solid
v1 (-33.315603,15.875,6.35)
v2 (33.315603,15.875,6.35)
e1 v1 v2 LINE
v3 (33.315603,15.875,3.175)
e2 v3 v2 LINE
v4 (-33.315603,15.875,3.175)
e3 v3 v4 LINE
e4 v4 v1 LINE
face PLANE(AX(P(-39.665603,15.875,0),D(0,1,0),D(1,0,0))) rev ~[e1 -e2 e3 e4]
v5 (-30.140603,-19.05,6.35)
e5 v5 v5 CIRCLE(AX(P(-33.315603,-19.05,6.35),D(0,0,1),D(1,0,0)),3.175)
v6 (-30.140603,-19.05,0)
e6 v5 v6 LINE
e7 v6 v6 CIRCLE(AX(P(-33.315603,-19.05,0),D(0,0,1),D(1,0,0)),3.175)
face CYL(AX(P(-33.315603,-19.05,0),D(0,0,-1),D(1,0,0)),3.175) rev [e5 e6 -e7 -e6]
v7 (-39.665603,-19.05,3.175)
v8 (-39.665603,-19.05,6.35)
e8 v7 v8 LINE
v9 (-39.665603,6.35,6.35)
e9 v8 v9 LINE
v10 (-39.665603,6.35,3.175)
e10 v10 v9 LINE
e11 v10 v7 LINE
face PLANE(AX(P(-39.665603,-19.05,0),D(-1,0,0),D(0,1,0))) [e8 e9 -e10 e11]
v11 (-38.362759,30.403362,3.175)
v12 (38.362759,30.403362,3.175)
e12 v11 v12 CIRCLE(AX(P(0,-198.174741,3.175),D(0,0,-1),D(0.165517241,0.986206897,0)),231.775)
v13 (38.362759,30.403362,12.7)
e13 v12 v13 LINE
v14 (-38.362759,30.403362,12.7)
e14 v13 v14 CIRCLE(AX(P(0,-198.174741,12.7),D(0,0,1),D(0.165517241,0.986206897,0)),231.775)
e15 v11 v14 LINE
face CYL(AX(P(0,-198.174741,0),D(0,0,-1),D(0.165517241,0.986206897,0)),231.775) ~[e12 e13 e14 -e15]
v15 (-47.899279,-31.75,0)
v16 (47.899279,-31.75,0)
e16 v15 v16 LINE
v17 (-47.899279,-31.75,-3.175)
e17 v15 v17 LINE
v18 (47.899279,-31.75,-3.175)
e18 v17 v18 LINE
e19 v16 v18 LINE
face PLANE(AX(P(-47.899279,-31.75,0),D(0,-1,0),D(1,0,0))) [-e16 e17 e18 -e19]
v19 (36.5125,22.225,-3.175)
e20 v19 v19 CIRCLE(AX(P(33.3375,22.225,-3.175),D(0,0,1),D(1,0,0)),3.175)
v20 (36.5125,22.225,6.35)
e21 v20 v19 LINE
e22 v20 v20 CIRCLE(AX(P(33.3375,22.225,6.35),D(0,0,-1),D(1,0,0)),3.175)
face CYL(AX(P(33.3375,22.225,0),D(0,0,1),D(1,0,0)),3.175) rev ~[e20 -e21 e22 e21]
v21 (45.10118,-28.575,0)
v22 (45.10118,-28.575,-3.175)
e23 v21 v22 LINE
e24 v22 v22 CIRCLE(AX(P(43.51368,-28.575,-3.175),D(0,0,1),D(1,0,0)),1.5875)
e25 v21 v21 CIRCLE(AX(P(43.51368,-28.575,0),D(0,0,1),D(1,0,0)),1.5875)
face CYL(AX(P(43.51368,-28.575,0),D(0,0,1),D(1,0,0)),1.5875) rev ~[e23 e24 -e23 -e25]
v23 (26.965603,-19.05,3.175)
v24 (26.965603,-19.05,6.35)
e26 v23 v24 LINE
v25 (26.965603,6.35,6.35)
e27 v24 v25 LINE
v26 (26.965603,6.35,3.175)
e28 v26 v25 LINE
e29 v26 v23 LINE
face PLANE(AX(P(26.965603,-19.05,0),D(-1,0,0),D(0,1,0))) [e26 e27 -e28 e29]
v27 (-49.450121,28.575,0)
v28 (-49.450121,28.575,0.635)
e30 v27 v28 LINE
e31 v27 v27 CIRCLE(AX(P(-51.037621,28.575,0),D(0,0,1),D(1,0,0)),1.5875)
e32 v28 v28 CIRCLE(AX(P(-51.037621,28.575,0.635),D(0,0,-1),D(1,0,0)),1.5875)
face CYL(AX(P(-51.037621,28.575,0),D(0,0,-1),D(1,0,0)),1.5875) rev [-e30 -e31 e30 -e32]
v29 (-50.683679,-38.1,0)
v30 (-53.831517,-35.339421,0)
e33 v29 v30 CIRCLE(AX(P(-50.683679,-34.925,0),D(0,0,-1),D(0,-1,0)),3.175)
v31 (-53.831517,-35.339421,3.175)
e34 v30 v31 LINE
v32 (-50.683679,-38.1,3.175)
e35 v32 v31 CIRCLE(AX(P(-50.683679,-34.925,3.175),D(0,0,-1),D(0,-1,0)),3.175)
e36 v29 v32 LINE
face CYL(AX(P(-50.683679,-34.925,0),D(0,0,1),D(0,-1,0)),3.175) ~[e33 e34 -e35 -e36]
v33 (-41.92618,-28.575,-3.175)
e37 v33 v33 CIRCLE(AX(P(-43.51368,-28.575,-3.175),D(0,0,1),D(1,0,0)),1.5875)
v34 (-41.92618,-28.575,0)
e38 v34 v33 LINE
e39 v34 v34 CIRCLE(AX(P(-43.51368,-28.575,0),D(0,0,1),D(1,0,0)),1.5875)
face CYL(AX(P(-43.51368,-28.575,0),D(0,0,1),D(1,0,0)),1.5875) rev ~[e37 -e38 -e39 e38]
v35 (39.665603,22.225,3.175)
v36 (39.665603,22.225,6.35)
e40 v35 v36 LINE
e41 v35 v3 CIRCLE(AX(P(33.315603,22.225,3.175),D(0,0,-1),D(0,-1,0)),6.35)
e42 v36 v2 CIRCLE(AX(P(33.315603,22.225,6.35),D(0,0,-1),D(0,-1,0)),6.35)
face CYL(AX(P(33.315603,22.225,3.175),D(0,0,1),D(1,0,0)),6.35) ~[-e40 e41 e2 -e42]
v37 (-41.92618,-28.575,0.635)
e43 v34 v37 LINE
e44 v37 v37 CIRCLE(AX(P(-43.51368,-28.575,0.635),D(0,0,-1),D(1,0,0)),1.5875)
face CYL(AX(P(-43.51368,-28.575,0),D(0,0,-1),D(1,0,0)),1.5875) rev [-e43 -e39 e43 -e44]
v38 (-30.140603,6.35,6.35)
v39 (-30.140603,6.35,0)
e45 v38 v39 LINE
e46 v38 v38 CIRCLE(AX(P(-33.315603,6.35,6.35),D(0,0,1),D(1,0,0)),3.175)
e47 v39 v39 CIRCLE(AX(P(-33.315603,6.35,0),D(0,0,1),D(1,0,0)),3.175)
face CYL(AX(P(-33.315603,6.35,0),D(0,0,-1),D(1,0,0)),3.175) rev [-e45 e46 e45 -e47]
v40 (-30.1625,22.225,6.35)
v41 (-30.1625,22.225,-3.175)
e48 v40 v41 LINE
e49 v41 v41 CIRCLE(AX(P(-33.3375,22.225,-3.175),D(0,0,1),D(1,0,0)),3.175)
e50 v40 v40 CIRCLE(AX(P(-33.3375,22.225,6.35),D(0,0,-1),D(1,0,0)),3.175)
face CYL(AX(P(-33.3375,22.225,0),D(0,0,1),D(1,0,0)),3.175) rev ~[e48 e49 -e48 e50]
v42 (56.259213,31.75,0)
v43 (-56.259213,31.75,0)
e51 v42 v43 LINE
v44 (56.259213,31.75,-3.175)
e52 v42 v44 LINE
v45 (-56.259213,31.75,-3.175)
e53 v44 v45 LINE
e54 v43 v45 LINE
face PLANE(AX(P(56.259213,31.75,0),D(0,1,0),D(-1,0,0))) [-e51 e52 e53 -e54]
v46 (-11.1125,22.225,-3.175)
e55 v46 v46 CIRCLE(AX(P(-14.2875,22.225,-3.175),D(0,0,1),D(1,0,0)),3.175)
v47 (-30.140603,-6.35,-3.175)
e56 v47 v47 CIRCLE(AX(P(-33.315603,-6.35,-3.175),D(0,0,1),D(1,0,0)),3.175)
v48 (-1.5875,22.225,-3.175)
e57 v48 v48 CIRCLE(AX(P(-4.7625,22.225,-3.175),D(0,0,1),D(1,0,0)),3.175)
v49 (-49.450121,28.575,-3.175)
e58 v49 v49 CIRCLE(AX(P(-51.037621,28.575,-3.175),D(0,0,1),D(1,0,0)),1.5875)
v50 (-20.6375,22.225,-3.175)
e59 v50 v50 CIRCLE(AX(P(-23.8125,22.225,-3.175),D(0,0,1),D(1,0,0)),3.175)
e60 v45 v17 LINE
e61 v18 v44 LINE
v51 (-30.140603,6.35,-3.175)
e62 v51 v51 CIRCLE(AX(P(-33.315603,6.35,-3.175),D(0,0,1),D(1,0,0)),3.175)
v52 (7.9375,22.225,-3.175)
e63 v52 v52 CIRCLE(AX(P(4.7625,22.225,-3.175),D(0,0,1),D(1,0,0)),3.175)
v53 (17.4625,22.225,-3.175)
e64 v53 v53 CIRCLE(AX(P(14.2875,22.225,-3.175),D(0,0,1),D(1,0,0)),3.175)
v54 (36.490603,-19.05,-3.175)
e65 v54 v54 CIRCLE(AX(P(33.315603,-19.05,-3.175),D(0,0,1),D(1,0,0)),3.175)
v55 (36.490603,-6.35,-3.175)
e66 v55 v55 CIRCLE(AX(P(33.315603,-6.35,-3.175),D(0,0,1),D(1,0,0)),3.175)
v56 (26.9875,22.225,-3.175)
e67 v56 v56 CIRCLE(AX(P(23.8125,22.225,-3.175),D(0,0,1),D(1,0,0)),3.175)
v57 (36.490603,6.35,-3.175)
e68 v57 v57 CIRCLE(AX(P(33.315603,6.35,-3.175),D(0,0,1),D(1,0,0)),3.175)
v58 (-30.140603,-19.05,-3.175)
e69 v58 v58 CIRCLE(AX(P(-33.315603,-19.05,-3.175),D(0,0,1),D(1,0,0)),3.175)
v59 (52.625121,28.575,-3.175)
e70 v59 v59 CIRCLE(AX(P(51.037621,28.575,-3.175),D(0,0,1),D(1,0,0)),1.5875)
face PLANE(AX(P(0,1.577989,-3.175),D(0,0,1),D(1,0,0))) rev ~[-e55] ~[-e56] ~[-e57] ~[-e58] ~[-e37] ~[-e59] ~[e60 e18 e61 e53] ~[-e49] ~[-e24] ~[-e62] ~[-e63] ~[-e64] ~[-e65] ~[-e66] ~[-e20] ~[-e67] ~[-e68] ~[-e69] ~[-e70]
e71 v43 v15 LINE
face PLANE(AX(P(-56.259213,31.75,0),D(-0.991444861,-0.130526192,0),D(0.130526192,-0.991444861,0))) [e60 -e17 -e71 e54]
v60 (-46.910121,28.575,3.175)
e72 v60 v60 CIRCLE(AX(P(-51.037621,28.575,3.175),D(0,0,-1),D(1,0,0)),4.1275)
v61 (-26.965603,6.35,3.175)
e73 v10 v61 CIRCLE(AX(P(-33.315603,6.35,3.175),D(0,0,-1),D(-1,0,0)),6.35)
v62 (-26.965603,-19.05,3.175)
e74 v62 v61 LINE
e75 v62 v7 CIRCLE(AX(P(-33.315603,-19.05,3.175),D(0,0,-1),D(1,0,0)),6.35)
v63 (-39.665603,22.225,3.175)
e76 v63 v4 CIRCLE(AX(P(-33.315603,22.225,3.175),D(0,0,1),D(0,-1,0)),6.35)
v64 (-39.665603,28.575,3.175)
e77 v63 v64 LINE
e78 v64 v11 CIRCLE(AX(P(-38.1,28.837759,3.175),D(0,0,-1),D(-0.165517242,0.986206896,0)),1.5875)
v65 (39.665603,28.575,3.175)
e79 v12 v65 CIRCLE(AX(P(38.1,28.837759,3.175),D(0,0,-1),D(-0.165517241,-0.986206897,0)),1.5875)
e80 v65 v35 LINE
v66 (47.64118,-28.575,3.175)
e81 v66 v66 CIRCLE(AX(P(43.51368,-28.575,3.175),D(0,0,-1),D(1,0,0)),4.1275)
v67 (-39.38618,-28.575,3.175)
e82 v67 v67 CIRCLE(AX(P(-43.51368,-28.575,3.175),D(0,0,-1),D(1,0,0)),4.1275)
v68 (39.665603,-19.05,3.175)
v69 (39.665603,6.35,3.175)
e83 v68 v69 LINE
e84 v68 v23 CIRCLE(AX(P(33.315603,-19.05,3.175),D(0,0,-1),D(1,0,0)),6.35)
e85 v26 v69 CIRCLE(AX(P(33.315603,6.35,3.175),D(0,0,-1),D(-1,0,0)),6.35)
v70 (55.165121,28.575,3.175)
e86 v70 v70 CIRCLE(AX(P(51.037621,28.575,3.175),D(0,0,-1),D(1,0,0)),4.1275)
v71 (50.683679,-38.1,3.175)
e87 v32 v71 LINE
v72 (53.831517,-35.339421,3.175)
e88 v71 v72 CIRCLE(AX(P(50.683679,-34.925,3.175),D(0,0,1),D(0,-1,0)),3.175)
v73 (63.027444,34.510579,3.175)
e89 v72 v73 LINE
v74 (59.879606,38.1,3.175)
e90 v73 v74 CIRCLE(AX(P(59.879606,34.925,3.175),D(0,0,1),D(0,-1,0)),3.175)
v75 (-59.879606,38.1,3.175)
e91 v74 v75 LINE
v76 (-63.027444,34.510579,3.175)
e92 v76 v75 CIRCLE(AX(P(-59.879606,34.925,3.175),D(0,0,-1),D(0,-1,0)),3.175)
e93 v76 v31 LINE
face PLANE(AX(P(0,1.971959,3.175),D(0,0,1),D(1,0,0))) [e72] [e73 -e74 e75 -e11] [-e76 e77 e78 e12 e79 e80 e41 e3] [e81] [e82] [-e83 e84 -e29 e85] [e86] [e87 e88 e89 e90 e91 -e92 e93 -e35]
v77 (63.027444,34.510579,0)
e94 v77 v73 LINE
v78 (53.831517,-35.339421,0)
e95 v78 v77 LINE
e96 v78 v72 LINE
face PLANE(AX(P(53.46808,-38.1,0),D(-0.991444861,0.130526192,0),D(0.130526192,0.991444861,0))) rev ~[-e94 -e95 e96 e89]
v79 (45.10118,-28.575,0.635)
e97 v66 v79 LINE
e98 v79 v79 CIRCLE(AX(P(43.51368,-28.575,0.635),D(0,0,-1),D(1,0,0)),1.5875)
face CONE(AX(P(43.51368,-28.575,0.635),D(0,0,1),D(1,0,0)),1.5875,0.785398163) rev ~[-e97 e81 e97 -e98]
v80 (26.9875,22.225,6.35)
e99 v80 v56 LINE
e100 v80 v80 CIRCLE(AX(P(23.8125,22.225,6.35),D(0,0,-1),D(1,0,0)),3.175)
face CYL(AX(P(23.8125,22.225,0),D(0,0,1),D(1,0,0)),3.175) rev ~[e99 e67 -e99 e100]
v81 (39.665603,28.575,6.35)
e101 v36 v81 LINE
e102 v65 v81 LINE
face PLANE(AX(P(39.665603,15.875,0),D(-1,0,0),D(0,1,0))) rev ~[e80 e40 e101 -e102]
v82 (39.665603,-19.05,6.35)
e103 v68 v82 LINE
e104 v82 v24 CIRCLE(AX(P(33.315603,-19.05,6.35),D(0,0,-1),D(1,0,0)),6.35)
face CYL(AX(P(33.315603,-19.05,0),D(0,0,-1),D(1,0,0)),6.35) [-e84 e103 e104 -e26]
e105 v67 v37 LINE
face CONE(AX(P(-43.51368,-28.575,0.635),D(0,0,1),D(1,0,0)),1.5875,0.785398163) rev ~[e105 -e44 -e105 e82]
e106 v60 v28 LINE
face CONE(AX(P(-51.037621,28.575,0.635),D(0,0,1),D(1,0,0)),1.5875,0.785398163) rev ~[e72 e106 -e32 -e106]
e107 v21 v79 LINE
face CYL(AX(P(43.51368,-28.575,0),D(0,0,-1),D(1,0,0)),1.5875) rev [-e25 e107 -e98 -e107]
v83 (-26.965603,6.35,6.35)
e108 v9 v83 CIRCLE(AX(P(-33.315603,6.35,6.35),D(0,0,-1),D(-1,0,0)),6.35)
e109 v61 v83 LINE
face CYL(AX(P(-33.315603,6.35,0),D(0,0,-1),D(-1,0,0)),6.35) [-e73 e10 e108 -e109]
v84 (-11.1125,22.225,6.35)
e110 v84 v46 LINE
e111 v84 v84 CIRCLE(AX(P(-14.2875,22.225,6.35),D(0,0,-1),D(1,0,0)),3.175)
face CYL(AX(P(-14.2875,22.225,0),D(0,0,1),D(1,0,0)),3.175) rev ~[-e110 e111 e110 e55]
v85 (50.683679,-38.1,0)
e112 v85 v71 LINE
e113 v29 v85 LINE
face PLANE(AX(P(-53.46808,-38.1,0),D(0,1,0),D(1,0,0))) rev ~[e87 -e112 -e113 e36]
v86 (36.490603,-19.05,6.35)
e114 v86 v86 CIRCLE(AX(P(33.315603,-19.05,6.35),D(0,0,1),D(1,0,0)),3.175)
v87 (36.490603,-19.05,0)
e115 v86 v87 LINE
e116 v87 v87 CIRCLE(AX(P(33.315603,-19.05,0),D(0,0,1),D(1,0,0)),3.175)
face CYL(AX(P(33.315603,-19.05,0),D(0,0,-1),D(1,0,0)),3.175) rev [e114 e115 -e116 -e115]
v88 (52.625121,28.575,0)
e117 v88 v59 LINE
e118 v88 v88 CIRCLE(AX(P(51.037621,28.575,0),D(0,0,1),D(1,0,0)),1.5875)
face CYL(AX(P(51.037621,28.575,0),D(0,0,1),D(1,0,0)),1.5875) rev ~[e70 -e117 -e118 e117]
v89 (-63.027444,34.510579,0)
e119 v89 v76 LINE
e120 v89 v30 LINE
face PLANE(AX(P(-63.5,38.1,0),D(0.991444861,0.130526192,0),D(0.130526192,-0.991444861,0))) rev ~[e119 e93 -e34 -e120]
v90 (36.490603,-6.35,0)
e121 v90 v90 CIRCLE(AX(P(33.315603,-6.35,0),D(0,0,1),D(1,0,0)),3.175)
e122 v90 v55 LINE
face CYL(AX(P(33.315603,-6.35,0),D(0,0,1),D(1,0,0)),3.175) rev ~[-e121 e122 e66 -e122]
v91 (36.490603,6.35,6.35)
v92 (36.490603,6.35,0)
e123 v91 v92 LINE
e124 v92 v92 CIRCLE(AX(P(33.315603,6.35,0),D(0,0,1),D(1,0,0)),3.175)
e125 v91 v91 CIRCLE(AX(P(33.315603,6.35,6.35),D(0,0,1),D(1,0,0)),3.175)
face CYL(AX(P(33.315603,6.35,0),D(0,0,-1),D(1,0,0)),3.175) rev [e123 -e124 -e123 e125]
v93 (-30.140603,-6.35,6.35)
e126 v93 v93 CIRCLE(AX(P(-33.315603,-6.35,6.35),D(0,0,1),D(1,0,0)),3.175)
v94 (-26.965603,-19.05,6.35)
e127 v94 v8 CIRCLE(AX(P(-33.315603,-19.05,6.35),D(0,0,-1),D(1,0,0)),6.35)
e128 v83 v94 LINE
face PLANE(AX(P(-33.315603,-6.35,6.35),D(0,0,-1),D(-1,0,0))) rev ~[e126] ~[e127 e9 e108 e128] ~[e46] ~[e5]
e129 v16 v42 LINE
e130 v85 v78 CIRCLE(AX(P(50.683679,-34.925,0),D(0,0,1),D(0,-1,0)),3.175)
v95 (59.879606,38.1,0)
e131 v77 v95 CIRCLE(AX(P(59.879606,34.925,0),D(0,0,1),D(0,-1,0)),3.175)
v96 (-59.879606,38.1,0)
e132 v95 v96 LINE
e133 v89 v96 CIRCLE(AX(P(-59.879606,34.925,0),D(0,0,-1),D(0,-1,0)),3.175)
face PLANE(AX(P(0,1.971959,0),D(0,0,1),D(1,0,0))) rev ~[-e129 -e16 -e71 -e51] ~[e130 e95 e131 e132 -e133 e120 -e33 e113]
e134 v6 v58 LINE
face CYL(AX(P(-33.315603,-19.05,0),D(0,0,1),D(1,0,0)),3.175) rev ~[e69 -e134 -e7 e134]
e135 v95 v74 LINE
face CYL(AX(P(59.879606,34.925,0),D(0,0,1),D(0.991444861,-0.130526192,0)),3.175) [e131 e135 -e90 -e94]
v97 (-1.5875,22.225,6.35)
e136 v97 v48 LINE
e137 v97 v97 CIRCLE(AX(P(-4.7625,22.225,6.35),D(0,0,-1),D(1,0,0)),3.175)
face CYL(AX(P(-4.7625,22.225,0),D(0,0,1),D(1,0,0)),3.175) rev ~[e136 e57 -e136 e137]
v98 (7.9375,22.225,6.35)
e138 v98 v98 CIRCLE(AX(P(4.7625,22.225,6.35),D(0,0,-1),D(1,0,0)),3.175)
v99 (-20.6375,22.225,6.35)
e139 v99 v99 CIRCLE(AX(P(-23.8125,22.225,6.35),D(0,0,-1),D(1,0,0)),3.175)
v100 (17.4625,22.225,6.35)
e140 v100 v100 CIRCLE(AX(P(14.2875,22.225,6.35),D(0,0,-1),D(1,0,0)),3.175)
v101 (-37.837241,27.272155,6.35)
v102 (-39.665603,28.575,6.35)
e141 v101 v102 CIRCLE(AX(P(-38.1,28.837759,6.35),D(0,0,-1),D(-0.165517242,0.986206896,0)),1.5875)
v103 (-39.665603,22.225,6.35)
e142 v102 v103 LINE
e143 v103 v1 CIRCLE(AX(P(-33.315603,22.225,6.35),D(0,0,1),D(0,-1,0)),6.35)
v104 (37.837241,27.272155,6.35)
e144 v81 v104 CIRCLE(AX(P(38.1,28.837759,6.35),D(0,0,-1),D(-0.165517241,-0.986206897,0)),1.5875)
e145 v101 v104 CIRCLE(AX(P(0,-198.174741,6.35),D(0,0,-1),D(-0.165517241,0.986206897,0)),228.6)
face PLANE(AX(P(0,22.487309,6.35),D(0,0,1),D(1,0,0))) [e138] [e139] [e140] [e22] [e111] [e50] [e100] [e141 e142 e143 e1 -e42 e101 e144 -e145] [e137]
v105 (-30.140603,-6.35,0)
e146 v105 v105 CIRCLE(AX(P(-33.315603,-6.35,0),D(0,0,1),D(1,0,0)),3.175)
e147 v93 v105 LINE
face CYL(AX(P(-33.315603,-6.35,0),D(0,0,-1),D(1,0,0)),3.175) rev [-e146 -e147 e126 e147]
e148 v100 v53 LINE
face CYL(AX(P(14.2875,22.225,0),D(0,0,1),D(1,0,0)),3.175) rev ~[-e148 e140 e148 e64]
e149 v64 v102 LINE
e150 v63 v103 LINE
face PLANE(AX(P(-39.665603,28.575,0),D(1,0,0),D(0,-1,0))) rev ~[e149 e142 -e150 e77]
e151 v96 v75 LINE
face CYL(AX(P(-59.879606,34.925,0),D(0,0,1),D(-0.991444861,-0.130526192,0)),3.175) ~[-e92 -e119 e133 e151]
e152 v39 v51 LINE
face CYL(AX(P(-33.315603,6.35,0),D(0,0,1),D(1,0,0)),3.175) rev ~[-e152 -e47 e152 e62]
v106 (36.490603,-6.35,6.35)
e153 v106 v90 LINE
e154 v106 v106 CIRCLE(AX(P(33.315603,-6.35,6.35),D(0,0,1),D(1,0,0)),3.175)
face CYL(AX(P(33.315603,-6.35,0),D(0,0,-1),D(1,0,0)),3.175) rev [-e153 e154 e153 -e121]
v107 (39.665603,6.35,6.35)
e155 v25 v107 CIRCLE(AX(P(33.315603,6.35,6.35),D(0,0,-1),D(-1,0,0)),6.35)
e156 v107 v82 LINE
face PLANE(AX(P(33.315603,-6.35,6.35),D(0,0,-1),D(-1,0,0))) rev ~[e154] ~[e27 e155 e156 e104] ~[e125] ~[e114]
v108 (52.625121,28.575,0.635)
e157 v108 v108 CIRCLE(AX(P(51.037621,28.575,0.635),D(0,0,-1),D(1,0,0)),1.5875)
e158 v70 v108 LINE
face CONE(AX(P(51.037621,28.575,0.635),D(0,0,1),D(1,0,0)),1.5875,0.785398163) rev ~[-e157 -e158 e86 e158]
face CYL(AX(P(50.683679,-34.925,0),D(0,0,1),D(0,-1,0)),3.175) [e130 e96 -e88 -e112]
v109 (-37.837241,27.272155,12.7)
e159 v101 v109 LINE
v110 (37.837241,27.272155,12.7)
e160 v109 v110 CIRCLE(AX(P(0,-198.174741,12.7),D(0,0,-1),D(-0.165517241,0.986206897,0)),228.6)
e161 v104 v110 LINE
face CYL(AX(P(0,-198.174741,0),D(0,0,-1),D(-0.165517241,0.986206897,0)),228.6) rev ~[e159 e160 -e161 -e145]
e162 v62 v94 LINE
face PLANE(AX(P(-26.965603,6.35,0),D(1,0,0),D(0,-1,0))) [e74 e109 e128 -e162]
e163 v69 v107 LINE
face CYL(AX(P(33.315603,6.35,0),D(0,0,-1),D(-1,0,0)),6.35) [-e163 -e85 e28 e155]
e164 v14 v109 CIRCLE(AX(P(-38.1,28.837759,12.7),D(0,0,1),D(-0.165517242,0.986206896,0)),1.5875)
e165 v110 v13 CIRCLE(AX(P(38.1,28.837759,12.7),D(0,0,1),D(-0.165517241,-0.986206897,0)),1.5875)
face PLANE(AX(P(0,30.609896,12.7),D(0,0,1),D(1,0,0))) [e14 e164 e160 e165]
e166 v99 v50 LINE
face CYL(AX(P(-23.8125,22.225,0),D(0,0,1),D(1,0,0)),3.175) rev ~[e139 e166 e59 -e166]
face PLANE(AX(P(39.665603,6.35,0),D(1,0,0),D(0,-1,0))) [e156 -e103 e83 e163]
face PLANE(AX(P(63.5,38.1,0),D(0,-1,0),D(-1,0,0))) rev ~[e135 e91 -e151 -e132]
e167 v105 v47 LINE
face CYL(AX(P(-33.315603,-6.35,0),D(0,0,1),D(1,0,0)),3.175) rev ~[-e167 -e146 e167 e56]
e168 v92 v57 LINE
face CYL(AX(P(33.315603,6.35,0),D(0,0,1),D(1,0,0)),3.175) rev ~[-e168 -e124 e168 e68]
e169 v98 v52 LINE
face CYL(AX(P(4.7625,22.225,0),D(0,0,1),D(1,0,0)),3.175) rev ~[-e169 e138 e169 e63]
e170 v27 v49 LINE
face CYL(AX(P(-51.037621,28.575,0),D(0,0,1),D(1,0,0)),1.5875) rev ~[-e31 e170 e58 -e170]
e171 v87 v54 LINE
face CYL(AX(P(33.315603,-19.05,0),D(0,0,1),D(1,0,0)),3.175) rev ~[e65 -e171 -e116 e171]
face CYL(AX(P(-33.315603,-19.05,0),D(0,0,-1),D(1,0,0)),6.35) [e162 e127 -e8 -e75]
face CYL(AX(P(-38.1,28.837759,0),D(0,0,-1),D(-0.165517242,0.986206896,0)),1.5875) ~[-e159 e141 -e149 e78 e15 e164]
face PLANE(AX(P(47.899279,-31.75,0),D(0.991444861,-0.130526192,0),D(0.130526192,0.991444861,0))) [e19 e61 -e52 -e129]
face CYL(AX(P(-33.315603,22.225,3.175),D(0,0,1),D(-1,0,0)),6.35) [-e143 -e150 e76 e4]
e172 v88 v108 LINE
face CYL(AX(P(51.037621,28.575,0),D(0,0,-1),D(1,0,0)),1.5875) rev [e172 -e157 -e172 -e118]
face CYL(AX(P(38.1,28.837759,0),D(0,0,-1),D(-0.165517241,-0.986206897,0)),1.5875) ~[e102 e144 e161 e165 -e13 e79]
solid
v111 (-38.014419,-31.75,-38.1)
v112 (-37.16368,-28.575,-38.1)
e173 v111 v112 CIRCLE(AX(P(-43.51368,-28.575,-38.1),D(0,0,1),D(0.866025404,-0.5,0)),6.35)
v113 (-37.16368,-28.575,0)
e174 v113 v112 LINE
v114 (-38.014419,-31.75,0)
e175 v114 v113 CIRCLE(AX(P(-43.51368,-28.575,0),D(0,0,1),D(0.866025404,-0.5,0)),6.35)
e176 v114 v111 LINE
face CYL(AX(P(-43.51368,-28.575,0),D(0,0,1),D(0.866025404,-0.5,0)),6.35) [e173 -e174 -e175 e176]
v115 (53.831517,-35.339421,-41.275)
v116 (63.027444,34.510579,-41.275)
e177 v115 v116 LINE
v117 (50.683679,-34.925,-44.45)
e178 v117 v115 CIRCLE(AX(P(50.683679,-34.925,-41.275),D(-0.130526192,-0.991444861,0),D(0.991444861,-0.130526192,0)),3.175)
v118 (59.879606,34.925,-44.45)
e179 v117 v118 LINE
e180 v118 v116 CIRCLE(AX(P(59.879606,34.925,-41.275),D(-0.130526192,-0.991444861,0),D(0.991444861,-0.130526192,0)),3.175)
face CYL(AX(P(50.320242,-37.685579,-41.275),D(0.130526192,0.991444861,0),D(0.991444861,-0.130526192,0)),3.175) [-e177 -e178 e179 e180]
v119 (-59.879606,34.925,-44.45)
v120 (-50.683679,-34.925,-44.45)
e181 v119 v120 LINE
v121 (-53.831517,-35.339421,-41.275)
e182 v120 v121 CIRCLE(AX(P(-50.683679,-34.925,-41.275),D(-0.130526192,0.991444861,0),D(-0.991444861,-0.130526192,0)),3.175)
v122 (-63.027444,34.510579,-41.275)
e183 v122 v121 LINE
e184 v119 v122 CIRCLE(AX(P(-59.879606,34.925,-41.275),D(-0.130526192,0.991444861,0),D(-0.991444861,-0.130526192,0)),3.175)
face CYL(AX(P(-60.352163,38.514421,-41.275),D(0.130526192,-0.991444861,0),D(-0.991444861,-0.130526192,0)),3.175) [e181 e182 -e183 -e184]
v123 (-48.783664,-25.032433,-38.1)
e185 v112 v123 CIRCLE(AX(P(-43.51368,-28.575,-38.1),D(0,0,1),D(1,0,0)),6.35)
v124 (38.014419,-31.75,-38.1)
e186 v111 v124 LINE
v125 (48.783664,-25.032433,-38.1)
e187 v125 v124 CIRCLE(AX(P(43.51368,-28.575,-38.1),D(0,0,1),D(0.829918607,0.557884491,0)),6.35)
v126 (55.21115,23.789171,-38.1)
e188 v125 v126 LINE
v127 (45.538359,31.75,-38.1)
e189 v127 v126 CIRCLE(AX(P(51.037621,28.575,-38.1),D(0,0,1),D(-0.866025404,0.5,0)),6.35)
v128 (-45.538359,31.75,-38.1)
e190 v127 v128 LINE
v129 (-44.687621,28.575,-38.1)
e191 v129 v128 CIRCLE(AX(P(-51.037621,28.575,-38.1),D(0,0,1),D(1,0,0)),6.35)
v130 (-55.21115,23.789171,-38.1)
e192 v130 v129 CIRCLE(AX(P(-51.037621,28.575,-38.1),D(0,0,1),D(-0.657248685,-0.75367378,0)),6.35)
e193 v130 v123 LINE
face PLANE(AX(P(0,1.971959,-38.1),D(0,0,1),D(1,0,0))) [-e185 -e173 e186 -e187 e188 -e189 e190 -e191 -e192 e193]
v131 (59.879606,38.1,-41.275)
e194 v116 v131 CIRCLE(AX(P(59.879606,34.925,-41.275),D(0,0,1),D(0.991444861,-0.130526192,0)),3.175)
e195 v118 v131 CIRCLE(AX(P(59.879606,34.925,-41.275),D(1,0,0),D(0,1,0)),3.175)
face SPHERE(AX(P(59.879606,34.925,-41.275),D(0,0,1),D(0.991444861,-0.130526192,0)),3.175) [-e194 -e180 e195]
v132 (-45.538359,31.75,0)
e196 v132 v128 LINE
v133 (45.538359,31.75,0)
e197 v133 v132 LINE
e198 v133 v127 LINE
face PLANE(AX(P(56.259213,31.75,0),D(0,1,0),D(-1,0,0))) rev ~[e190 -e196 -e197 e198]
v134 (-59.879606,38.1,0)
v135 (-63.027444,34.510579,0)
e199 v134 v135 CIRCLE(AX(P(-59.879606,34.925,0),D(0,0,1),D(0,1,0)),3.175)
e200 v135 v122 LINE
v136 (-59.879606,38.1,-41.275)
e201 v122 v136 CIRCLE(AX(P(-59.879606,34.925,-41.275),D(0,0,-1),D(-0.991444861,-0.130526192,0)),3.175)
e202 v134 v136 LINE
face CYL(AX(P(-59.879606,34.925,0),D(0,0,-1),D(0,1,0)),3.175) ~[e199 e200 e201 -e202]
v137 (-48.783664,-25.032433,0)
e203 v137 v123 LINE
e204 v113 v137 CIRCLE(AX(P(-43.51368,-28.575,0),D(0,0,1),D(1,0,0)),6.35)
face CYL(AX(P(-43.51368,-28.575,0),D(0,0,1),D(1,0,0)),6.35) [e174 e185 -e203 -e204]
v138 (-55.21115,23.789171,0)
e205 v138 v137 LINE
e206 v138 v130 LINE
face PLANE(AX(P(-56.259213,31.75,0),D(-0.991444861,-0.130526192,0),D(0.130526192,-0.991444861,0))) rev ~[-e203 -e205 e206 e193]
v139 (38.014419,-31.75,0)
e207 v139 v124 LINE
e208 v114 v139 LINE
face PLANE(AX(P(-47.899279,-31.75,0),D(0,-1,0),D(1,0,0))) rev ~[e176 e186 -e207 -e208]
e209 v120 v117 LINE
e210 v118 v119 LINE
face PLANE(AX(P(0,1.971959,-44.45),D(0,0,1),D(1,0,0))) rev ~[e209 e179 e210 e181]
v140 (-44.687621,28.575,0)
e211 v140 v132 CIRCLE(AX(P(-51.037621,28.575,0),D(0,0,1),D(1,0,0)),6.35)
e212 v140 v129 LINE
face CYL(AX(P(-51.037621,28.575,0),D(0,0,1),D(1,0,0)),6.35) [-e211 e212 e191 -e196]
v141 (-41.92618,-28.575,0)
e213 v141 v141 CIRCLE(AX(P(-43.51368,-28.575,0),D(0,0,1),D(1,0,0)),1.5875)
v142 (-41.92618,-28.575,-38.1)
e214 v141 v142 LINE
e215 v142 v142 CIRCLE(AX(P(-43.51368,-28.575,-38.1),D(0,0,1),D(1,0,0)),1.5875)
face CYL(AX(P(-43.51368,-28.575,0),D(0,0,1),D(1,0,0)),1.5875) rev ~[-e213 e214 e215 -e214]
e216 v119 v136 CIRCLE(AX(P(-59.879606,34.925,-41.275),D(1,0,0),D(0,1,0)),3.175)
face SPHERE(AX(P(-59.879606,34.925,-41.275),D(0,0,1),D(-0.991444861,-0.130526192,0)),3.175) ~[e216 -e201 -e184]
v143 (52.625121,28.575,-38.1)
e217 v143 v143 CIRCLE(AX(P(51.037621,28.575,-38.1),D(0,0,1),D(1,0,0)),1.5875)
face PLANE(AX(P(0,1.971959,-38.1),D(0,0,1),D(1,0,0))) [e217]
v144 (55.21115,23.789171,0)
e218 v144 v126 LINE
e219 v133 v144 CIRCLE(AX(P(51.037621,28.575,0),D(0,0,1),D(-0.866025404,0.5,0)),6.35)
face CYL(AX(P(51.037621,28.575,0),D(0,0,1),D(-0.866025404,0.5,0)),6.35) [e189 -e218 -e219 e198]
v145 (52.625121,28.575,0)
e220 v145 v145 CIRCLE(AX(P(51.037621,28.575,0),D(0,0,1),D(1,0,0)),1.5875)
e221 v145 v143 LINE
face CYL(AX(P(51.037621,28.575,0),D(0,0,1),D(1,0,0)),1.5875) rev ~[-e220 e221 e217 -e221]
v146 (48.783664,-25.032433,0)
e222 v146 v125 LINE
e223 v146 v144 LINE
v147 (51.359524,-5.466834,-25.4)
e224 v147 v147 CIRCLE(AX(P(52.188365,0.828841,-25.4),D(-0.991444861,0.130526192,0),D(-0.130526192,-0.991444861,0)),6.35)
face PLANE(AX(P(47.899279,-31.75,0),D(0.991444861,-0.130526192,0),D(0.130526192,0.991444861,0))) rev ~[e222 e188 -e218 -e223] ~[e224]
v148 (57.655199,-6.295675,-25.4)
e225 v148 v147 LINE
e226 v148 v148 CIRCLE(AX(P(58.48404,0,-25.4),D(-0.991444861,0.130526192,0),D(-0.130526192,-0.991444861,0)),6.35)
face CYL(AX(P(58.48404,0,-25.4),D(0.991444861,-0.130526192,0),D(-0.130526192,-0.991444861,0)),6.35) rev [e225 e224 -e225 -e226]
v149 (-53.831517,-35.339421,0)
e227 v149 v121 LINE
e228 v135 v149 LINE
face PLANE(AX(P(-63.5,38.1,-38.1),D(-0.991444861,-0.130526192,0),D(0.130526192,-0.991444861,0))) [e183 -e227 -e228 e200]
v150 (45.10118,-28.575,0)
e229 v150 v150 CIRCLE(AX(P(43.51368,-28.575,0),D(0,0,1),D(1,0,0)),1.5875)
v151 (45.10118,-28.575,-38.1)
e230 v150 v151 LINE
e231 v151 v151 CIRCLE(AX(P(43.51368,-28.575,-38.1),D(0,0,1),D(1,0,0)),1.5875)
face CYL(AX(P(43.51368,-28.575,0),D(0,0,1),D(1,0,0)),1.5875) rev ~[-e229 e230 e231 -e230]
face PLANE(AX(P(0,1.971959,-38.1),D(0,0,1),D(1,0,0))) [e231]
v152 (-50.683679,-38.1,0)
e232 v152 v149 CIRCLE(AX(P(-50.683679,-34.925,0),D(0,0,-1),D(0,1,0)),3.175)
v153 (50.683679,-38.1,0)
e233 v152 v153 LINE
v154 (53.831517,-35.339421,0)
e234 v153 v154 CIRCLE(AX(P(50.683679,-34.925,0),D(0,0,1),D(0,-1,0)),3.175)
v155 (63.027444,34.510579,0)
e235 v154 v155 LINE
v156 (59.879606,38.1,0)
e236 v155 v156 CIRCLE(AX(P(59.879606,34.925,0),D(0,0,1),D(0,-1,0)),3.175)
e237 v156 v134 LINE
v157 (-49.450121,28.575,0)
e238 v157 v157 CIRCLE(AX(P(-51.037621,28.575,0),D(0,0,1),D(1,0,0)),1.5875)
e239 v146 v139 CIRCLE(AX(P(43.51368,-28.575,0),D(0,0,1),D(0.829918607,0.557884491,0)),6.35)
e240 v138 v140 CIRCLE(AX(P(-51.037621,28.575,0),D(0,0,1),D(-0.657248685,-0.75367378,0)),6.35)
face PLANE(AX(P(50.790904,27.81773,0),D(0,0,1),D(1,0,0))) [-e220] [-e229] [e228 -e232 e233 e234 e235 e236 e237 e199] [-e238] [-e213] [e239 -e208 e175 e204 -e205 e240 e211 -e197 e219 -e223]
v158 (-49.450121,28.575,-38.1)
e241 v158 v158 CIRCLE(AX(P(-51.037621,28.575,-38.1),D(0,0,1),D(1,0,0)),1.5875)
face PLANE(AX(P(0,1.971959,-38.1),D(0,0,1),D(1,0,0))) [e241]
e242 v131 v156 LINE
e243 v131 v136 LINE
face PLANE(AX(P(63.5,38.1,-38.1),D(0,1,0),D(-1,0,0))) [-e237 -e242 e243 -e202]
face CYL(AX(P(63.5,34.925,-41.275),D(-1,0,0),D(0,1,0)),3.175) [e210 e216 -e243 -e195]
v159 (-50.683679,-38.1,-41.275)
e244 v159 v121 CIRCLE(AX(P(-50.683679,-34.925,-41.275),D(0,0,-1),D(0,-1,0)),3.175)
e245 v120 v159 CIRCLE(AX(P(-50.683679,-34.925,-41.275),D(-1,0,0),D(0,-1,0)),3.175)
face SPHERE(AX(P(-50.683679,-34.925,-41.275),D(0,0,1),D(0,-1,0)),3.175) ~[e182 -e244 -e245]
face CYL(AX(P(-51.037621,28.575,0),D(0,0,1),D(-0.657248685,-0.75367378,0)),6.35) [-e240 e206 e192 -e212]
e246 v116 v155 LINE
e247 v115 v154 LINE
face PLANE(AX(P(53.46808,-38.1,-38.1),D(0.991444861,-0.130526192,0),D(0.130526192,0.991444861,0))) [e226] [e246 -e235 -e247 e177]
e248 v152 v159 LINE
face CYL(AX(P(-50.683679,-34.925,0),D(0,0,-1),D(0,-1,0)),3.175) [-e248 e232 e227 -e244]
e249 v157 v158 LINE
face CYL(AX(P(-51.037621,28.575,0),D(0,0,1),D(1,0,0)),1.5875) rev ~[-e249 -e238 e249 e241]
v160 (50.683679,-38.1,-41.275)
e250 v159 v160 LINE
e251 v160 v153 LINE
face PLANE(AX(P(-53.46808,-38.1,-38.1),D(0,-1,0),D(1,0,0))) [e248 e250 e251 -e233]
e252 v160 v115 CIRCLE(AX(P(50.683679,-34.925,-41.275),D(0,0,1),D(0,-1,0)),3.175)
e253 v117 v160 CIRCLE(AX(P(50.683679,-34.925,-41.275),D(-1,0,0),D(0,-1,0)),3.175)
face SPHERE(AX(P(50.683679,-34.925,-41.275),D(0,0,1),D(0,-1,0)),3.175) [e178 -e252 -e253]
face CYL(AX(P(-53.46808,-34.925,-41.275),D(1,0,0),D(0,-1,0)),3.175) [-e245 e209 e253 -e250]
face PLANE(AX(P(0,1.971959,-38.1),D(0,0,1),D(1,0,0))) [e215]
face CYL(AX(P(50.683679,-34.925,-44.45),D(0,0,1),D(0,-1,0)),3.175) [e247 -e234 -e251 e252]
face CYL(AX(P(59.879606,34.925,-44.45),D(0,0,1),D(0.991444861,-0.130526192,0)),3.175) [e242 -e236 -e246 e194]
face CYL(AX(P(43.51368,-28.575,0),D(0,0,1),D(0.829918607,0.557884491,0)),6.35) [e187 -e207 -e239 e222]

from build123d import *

# Parameters (mm, degrees)
BOSS_EXTRUDE1_DEPTH      = 3.175
BOSS_EXTRUDE2_DEPTH      = 3.175
SKETCH2_R                = 3.175
BOSS_EXTRUDE3_DEPTH      = 6.35
BOSS_EXTRUDE4_DEPTH      = 12.7
SKETCH2_4_R              = 3.175
CUT_EXTRUDE1_DEPTH       = 76.134213245
CUT_EXTRUDE1_DEPTH_BACK  = 76.134213245
FILLET1_R                = 6.35
SKETCH4_R                = 3.175
BOSS_EXTRUDE5_DEPTH      = 6.35
SKETCH4_2_R              = 3.175
CUT_EXTRUDE2_DEPTH       = 76.134213245
CUT_EXTRUDE2_DEPTH_BACK  = 76.134213245
BOSS_EXTRUDE6_DEPTH      = 38.1
BOSS_EXTRUDE7_START      = -38.1
BOSS_EXTRUDE7_DEPTH      = 6.35
BOSS_EXTRUDE11_REACH     = 88.369
SKETCH5_R                = 1.5875
SKETCH5_4_R              = 1.5875
CUT_EXTRUDE9_DEPTH       = 87.36933773
CUT_EXTRUDE9_DEPTH_BACK  = 87.36933773
SKETCH6_R                = 6.35
CUT_EXTRUDE10_DEPTH      = 6.35
CUT_EXTRUDE10_DEPTH_BACK = 510.682305539
CHAMFER1_SIZE            = 2.54
FILLET2_R                = 3.175
FILLET3_R                = 3.175


with BuildPart() as part:
    # Sketch1 → Boss-Extrude1 (new body)
    with BuildSketch(Plane.XY):
        Polygon((-53.468079684, -38.1), (53.468079684, -38.1), (63.5, 38.1), (-63.5, 38.1), align=None)
        Polygon((47.899279144, -31.75), (56.259212741, 31.75), (-56.259212741, 31.75), (-47.899279144, -31.75), align=None, mode=Mode.SUBTRACT)
        Polygon((-47.899279144, -31.75), (47.899279144, -31.75), (56.259212741, 31.75), (-56.259212741, 31.75), align=None)
    extrude(amount=BOSS_EXTRUDE1_DEPTH)

    # Sketch1<3> → Boss-Extrude2 (add)
    with BuildSketch(Plane.XY):
        Polygon((-47.899279144, -31.75), (47.899279144, -31.75), (56.259212741, 31.75), (-56.259212741, 31.75), align=None)
    extrude(amount=-BOSS_EXTRUDE2_DEPTH)

    # Sketch2 → Boss-Extrude3 (add)
    with BuildSketch(Plane.XY):
        with BuildLine():
            ThreePointArc((-37.837241379, 27.272155172), (-39.021250412, 27.544911403), (-39.665603448, 28.575))
            Line((-39.665603448, 28.575), (-39.665603448, 15.875))
            Line((-39.665603448, 15.875), (39.665603448, 15.875))
            Line((39.665603448, 15.875), (39.665603448, 28.575))
            ThreePointArc((39.665603448, 28.575), (39.021250412, 27.544911403), (37.837241379, 27.272155172))
            ThreePointArc((37.837241379, 27.272155172), (0, 30.425258621), (-37.837241379, 27.272155172))
        make_face()
        with Locations((-33.3375, 22.225)):
            Circle(SKETCH2_R, mode=Mode.SUBTRACT)
        with Locations((-23.8125, 22.225)):
            Circle(SKETCH2_R, mode=Mode.SUBTRACT)
        with Locations((-14.2875, 22.225)):
            Circle(SKETCH2_R, mode=Mode.SUBTRACT)
        with Locations((-4.7625, 22.225)):
            Circle(SKETCH2_R, mode=Mode.SUBTRACT)
        with Locations((4.7625, 22.225)):
            Circle(SKETCH2_R, mode=Mode.SUBTRACT)
        with Locations((14.2875, 22.225)):
            Circle(SKETCH2_R, mode=Mode.SUBTRACT)
        with Locations((23.8125, 22.225)):
            Circle(SKETCH2_R, mode=Mode.SUBTRACT)
        with Locations((33.3375, 22.225)):
            Circle(SKETCH2_R, mode=Mode.SUBTRACT)
        with Locations((-33.3375, 22.225)):
            Circle(SKETCH2_R)
        with Locations((-23.8125, 22.225)):
            Circle(SKETCH2_R)
        with Locations((-14.2875, 22.225)):
            Circle(SKETCH2_R)
        with Locations((-4.7625, 22.225)):
            Circle(SKETCH2_R)
        with Locations((4.7625, 22.225)):
            Circle(SKETCH2_R)
        with Locations((14.2875, 22.225)):
            Circle(SKETCH2_R)
        with Locations((23.8125, 22.225)):
            Circle(SKETCH2_R)
        with Locations((33.3375, 22.225)):
            Circle(SKETCH2_R)
        with BuildLine():
            ThreePointArc((-37.837241379, 27.272155172), (0, 30.425258621), (37.837241379, 27.272155172))
            ThreePointArc((37.837241379, 27.272155172), (39.665603448, 28.575), (38.362758621, 30.403362069))
            ThreePointArc((38.362758621, 30.403362069), (0, 33.600258621), (-38.362758621, 30.403362069))
            ThreePointArc((-38.362758621, 30.403362069), (-39.665603448, 28.575), (-37.837241379, 27.272155172))
        make_face()
    extrude(amount=BOSS_EXTRUDE3_DEPTH)

    # Sketch2<3> → Boss-Extrude4 (add)
    with BuildSketch(Plane.XY):
        with BuildLine():
            ThreePointArc((-37.837241379, 27.272155172), (0, 30.425258621), (37.837241379, 27.272155172))
            ThreePointArc((37.837241379, 27.272155172), (39.665603448, 28.575), (38.362758621, 30.403362069))
            ThreePointArc((38.362758621, 30.403362069), (0, 33.600258621), (-38.362758621, 30.403362069))
            ThreePointArc((-38.362758621, 30.403362069), (-39.665603448, 28.575), (-37.837241379, 27.272155172))
        make_face()
    extrude(amount=BOSS_EXTRUDE4_DEPTH)

    # Sketch2<4> → Cut-Extrude1 (cut, two sides)
    with BuildSketch(Plane.XY) as cut_extrude1_sk:
        with Locations((-33.3375, 22.225)):
            Circle(SKETCH2_4_R)
        with Locations((-23.8125, 22.225)):
            Circle(SKETCH2_4_R)
        with Locations((-14.2875, 22.225)):
            Circle(SKETCH2_4_R)
        with Locations((-4.7625, 22.225)):
            Circle(SKETCH2_4_R)
        with Locations((4.7625, 22.225)):
            Circle(SKETCH2_4_R)
        with Locations((14.2875, 22.225)):
            Circle(SKETCH2_4_R)
        with Locations((23.8125, 22.225)):
            Circle(SKETCH2_4_R)
        with Locations((33.3375, 22.225)):
            Circle(SKETCH2_4_R)
    extrude(amount=CUT_EXTRUDE1_DEPTH, mode=Mode.SUBTRACT)
    extrude(cut_extrude1_sk.sketch, amount=-CUT_EXTRUDE1_DEPTH_BACK, mode=Mode.SUBTRACT)

    # Fillet1
    fillet1_edges = [part.edges().sort_by_distance(p)[0] for p in [
        (39.665603448, 15.875, 4.7625),
        (-39.665603448, 15.875, 4.7625),
    ]]
    fillet(fillet1_edges, radius=FILLET1_R)

    # Sketch4 → Boss-Extrude5 (add)
    with BuildSketch(Plane.XY):
        with BuildLine():
            Line((-26.965603448, 6.35), (-26.965603448, -19.05))
            ThreePointArc((-26.965603448, -19.05), (-33.315603448, -25.4), (-39.665603448, -19.05))
            Line((-39.665603448, -19.05), (-39.665603448, 6.35))
            ThreePointArc((-39.665603448, 6.35), (-33.315603448, 12.7), (-26.965603448, 6.35))
        make_face()
        with Locations((-33.315603448, 6.35)):
            Circle(SKETCH4_R, mode=Mode.SUBTRACT)
        with Locations((-33.315603448, -6.35)):
            Circle(SKETCH4_R, mode=Mode.SUBTRACT)
        with Locations((-33.315603448, -19.05)):
            Circle(SKETCH4_R, mode=Mode.SUBTRACT)
        with BuildLine():
            Line((39.665603448, 6.35), (39.665603448, -19.05))
            ThreePointArc((39.665603448, -19.05), (33.315603448, -25.4), (26.965603448, -19.05))
            Line((26.965603448, -19.05), (26.965603448, 6.35))
            ThreePointArc((26.965603448, 6.35), (33.315603448, 12.7), (39.665603448, 6.35))
        make_face()
        with Locations((33.315603448, 6.35)):
            Circle(SKETCH4_R, mode=Mode.SUBTRACT)
        with Locations((33.315603448, -6.35)):
            Circle(SKETCH4_R, mode=Mode.SUBTRACT)
        with Locations((33.315603448, -19.05)):
            Circle(SKETCH4_R, mode=Mode.SUBTRACT)
    extrude(amount=BOSS_EXTRUDE5_DEPTH)

    # Sketch4<2> → Cut-Extrude2 (cut, two sides)
    with BuildSketch(Plane.XY) as cut_extrude2_sk:
        with Locations((-33.315603448, 6.35)):
            Circle(SKETCH4_2_R)
        with Locations((-33.315603448, -6.35)):
            Circle(SKETCH4_2_R)
        with Locations((-33.315603448, -19.05)):
            Circle(SKETCH4_2_R)
        with Locations((33.315603448, -19.05)):
            Circle(SKETCH4_2_R)
        with Locations((33.315603448, -6.35)):
            Circle(SKETCH4_2_R)
        with Locations((33.315603448, 6.35)):
            Circle(SKETCH4_2_R)
    extrude(amount=CUT_EXTRUDE2_DEPTH, mode=Mode.SUBTRACT)
    extrude(cut_extrude2_sk.sketch, amount=-CUT_EXTRUDE2_DEPTH_BACK, mode=Mode.SUBTRACT)

    # Sketch5<4> → Cut-Extrude9 (cut, two sides)
    with BuildSketch(Plane.XY) as cut_extrude9_sk:
        with Locations((-51.037620636, 28.575)):
            Circle(SKETCH5_4_R)
        with Locations((-43.513680399, -28.575)):
            Circle(SKETCH5_4_R)
        with Locations((43.513680399, -28.575)):
            Circle(SKETCH5_4_R)
        with Locations((51.037620636, 28.575)):
            Circle(SKETCH5_4_R)
    extrude(amount=CUT_EXTRUDE9_DEPTH, mode=Mode.SUBTRACT)
    extrude(cut_extrude9_sk.sketch, amount=-CUT_EXTRUDE9_DEPTH_BACK, mode=Mode.SUBTRACT)

    # Chamfer1
    chamfer1_edges = [part.edges().sort_by_distance(p)[0] for p in [
        (-52.625120636, 28.575, 3.175),
        (-45.101180399, -28.575, 3.175),
        (41.926180399, -28.575, 3.175),
        (49.450120636, 28.575, 3.175),
    ]]
    chamfer(chamfer1_edges, length=CHAMFER1_SIZE)

    # Fillet3
    fillet3_edges = [part.edges().sort_by_distance(p)[0] for p in [
        (-53.468079684, -38.1, 1.5875),
        (-63.5, 38.1, 1.5875),
        (63.5, 38.1, 1.5875),
        (53.468079684, -38.1, 1.5875),
    ]]
    fillet(fillet3_edges, radius=FILLET3_R)


with BuildPart() as body_2:
    # Sketch1<4> → Boss-Extrude6 (new body)
    with BuildSketch(Plane.XY):
        Polygon((-53.468079684, -38.1), (53.468079684, -38.1), (63.5, 38.1), (-63.5, 38.1), align=None)
        Polygon((47.899279144, -31.75), (56.259212741, 31.75), (-56.259212741, 31.75), (-47.899279144, -31.75), align=None, mode=Mode.SUBTRACT)
    extrude(amount=-BOSS_EXTRUDE6_DEPTH)

    # Sketch1<5> → Boss-Extrude7 (add)
    with BuildSketch(Plane.XY.offset(BOSS_EXTRUDE7_START)):
        Polygon((-53.468079684, -38.1), (53.468079684, -38.1), (63.5, 38.1), (-63.5, 38.1), align=None)
        Polygon((47.899279144, -31.75), (56.259212741, 31.75), (-56.259212741, 31.75), (-47.899279144, -31.75), align=None, mode=Mode.SUBTRACT)
        Polygon((-47.899279144, -31.75), (47.899279144, -31.75), (56.259212741, 31.75), (-56.259212741, 31.75), align=None)
    extrude(amount=-BOSS_EXTRUDE7_DEPTH)

    # Sketch5 → Boss-Extrude11 (add, up to next)
    with BuildSketch(Plane.XY, mode=Mode.PRIVATE) as boss_extrude11_sk1:
        with BuildLine():
            Line((-56.259212741, 31.75), (-55.211149786, 23.789171499))
            ThreePointArc((-55.211149786, 23.789171499), (-48.408876649, 22.794670853), (-44.687620636, 28.575))
            ThreePointArc((-44.687620636, 28.575), (-44.903991639, 30.218500936), (-45.538359322, 31.75))
            Line((-45.538359322, 31.75), (-56.259212741, 31.75))
        make_face()
        with Locations((-51.037620636, 28.575)):
            Circle(SKETCH5_R, mode=Mode.SUBTRACT)
    boss_extrude11_tool1 = extrude(boss_extrude11_sk1.sketch, amount=-BOSS_EXTRUDE11_REACH, mode=Mode.PRIVATE) - body_2.part
    # Sketch5 → Boss-Extrude11 (add, up to next)
    with BuildSketch(Plane.XY, mode=Mode.PRIVATE) as boss_extrude11_sk2:
        with BuildLine():
            Line((-48.783663554, -25.03243348), (-47.899279144, -31.75))
            Line((-47.899279144, -31.75), (-38.014419085, -31.75))
            ThreePointArc((-38.014419085, -31.75), (-37.380051402, -30.218500936), (-37.163680399, -28.575))
            ThreePointArc((-37.163680399, -28.575), (-41.661910034, -22.501002427), (-48.783663554, -25.03243348))
        make_face()
        with Locations((-43.513680399, -28.575)):
            Circle(SKETCH5_R, mode=Mode.SUBTRACT)
    boss_extrude11_tool2 = extrude(boss_extrude11_sk2.sketch, amount=-BOSS_EXTRUDE11_REACH, mode=Mode.PRIVATE) - body_2.part
    # Sketch5 → Boss-Extrude11 (add, up to next)
    with BuildSketch(Plane.XY, mode=Mode.PRIVATE) as boss_extrude11_sk3:
        with BuildLine():
            ThreePointArc((48.783663554, -25.03243348), (40.152941328, -23.187242313), (38.014419085, -31.75))
            Line((38.014419085, -31.75), (47.899279144, -31.75))
            Line((47.899279144, -31.75), (48.783663554, -25.03243348))
        make_face()
        with Locations((43.513680399, -28.575)):
            Circle(SKETCH5_R, mode=Mode.SUBTRACT)
    boss_extrude11_tool3 = extrude(boss_extrude11_sk3.sketch, amount=-BOSS_EXTRUDE11_REACH, mode=Mode.PRIVATE) - body_2.part
    # Sketch5 → Boss-Extrude11 (add, up to next)
    with BuildSketch(Plane.XY, mode=Mode.PRIVATE) as boss_extrude11_sk4:
        with BuildLine():
            ThreePointArc((45.538359322, 31.75), (47.002389658, 23.671999801), (55.211149786, 23.789171499))
            Line((55.211149786, 23.789171499), (56.259212741, 31.75))
            Line((56.259212741, 31.75), (45.538359322, 31.75))
        make_face()
        with Locations((51.037620636, 28.575)):
            Circle(SKETCH5_R, mode=Mode.SUBTRACT)
    boss_extrude11_tool4 = extrude(boss_extrude11_sk4.sketch, amount=-BOSS_EXTRUDE11_REACH, mode=Mode.PRIVATE) - body_2.part
    add(boss_extrude11_tool1.solids().sort_by_distance((-48.470922, 22.931101, 0))[0])
    add(boss_extrude11_tool2.solids().sort_by_distance((-48.192507, -28.371605, 0))[0])
    add(boss_extrude11_tool3.solids().sort_by_distance((40.232461, -23.314724, 0))[0])
    add(boss_extrude11_tool4.solids().sort_by_distance((47.097631, 23.787723, 0))[0])

    # Sketch6 → Cut-Extrude10 (cut, two sides)
    with BuildSketch(Plane(origin=(-2.773412859, -465.296548287, 0), x_dir=(0, 0, -1), z_dir=(-0.9914448613738105, 0.1305261922200517, 0))) as cut_extrude10_sk:
        with Locations(Location((25.4, -469.31157386, 0), (0, 0, 90))):
            Circle(SKETCH6_R)
    extrude(amount=CUT_EXTRUDE10_DEPTH, mode=Mode.SUBTRACT)
    extrude(cut_extrude10_sk.sketch, amount=-CUT_EXTRUDE10_DEPTH_BACK, mode=Mode.SUBTRACT)

    # Fillet2
    fillet2_edges = [body_2.edges().sort_by_distance(p)[0] for p in [
        (-53.468079684, -38.1, -22.225),
        (-63.5, 38.1, -22.225),
        (63.5, 38.1, -22.225),
        (53.468079684, -38.1, -22.225),
        (0, -38.1, -44.45),
        (58.484039842, 0, -44.45),
        (-58.484039842, 0, -44.45),
        (0, 38.1, -44.45),
    ]]
    fillet(fillet2_edges, radius=FILLET2_R)


solid = Compound([part.part, body_2.part])
